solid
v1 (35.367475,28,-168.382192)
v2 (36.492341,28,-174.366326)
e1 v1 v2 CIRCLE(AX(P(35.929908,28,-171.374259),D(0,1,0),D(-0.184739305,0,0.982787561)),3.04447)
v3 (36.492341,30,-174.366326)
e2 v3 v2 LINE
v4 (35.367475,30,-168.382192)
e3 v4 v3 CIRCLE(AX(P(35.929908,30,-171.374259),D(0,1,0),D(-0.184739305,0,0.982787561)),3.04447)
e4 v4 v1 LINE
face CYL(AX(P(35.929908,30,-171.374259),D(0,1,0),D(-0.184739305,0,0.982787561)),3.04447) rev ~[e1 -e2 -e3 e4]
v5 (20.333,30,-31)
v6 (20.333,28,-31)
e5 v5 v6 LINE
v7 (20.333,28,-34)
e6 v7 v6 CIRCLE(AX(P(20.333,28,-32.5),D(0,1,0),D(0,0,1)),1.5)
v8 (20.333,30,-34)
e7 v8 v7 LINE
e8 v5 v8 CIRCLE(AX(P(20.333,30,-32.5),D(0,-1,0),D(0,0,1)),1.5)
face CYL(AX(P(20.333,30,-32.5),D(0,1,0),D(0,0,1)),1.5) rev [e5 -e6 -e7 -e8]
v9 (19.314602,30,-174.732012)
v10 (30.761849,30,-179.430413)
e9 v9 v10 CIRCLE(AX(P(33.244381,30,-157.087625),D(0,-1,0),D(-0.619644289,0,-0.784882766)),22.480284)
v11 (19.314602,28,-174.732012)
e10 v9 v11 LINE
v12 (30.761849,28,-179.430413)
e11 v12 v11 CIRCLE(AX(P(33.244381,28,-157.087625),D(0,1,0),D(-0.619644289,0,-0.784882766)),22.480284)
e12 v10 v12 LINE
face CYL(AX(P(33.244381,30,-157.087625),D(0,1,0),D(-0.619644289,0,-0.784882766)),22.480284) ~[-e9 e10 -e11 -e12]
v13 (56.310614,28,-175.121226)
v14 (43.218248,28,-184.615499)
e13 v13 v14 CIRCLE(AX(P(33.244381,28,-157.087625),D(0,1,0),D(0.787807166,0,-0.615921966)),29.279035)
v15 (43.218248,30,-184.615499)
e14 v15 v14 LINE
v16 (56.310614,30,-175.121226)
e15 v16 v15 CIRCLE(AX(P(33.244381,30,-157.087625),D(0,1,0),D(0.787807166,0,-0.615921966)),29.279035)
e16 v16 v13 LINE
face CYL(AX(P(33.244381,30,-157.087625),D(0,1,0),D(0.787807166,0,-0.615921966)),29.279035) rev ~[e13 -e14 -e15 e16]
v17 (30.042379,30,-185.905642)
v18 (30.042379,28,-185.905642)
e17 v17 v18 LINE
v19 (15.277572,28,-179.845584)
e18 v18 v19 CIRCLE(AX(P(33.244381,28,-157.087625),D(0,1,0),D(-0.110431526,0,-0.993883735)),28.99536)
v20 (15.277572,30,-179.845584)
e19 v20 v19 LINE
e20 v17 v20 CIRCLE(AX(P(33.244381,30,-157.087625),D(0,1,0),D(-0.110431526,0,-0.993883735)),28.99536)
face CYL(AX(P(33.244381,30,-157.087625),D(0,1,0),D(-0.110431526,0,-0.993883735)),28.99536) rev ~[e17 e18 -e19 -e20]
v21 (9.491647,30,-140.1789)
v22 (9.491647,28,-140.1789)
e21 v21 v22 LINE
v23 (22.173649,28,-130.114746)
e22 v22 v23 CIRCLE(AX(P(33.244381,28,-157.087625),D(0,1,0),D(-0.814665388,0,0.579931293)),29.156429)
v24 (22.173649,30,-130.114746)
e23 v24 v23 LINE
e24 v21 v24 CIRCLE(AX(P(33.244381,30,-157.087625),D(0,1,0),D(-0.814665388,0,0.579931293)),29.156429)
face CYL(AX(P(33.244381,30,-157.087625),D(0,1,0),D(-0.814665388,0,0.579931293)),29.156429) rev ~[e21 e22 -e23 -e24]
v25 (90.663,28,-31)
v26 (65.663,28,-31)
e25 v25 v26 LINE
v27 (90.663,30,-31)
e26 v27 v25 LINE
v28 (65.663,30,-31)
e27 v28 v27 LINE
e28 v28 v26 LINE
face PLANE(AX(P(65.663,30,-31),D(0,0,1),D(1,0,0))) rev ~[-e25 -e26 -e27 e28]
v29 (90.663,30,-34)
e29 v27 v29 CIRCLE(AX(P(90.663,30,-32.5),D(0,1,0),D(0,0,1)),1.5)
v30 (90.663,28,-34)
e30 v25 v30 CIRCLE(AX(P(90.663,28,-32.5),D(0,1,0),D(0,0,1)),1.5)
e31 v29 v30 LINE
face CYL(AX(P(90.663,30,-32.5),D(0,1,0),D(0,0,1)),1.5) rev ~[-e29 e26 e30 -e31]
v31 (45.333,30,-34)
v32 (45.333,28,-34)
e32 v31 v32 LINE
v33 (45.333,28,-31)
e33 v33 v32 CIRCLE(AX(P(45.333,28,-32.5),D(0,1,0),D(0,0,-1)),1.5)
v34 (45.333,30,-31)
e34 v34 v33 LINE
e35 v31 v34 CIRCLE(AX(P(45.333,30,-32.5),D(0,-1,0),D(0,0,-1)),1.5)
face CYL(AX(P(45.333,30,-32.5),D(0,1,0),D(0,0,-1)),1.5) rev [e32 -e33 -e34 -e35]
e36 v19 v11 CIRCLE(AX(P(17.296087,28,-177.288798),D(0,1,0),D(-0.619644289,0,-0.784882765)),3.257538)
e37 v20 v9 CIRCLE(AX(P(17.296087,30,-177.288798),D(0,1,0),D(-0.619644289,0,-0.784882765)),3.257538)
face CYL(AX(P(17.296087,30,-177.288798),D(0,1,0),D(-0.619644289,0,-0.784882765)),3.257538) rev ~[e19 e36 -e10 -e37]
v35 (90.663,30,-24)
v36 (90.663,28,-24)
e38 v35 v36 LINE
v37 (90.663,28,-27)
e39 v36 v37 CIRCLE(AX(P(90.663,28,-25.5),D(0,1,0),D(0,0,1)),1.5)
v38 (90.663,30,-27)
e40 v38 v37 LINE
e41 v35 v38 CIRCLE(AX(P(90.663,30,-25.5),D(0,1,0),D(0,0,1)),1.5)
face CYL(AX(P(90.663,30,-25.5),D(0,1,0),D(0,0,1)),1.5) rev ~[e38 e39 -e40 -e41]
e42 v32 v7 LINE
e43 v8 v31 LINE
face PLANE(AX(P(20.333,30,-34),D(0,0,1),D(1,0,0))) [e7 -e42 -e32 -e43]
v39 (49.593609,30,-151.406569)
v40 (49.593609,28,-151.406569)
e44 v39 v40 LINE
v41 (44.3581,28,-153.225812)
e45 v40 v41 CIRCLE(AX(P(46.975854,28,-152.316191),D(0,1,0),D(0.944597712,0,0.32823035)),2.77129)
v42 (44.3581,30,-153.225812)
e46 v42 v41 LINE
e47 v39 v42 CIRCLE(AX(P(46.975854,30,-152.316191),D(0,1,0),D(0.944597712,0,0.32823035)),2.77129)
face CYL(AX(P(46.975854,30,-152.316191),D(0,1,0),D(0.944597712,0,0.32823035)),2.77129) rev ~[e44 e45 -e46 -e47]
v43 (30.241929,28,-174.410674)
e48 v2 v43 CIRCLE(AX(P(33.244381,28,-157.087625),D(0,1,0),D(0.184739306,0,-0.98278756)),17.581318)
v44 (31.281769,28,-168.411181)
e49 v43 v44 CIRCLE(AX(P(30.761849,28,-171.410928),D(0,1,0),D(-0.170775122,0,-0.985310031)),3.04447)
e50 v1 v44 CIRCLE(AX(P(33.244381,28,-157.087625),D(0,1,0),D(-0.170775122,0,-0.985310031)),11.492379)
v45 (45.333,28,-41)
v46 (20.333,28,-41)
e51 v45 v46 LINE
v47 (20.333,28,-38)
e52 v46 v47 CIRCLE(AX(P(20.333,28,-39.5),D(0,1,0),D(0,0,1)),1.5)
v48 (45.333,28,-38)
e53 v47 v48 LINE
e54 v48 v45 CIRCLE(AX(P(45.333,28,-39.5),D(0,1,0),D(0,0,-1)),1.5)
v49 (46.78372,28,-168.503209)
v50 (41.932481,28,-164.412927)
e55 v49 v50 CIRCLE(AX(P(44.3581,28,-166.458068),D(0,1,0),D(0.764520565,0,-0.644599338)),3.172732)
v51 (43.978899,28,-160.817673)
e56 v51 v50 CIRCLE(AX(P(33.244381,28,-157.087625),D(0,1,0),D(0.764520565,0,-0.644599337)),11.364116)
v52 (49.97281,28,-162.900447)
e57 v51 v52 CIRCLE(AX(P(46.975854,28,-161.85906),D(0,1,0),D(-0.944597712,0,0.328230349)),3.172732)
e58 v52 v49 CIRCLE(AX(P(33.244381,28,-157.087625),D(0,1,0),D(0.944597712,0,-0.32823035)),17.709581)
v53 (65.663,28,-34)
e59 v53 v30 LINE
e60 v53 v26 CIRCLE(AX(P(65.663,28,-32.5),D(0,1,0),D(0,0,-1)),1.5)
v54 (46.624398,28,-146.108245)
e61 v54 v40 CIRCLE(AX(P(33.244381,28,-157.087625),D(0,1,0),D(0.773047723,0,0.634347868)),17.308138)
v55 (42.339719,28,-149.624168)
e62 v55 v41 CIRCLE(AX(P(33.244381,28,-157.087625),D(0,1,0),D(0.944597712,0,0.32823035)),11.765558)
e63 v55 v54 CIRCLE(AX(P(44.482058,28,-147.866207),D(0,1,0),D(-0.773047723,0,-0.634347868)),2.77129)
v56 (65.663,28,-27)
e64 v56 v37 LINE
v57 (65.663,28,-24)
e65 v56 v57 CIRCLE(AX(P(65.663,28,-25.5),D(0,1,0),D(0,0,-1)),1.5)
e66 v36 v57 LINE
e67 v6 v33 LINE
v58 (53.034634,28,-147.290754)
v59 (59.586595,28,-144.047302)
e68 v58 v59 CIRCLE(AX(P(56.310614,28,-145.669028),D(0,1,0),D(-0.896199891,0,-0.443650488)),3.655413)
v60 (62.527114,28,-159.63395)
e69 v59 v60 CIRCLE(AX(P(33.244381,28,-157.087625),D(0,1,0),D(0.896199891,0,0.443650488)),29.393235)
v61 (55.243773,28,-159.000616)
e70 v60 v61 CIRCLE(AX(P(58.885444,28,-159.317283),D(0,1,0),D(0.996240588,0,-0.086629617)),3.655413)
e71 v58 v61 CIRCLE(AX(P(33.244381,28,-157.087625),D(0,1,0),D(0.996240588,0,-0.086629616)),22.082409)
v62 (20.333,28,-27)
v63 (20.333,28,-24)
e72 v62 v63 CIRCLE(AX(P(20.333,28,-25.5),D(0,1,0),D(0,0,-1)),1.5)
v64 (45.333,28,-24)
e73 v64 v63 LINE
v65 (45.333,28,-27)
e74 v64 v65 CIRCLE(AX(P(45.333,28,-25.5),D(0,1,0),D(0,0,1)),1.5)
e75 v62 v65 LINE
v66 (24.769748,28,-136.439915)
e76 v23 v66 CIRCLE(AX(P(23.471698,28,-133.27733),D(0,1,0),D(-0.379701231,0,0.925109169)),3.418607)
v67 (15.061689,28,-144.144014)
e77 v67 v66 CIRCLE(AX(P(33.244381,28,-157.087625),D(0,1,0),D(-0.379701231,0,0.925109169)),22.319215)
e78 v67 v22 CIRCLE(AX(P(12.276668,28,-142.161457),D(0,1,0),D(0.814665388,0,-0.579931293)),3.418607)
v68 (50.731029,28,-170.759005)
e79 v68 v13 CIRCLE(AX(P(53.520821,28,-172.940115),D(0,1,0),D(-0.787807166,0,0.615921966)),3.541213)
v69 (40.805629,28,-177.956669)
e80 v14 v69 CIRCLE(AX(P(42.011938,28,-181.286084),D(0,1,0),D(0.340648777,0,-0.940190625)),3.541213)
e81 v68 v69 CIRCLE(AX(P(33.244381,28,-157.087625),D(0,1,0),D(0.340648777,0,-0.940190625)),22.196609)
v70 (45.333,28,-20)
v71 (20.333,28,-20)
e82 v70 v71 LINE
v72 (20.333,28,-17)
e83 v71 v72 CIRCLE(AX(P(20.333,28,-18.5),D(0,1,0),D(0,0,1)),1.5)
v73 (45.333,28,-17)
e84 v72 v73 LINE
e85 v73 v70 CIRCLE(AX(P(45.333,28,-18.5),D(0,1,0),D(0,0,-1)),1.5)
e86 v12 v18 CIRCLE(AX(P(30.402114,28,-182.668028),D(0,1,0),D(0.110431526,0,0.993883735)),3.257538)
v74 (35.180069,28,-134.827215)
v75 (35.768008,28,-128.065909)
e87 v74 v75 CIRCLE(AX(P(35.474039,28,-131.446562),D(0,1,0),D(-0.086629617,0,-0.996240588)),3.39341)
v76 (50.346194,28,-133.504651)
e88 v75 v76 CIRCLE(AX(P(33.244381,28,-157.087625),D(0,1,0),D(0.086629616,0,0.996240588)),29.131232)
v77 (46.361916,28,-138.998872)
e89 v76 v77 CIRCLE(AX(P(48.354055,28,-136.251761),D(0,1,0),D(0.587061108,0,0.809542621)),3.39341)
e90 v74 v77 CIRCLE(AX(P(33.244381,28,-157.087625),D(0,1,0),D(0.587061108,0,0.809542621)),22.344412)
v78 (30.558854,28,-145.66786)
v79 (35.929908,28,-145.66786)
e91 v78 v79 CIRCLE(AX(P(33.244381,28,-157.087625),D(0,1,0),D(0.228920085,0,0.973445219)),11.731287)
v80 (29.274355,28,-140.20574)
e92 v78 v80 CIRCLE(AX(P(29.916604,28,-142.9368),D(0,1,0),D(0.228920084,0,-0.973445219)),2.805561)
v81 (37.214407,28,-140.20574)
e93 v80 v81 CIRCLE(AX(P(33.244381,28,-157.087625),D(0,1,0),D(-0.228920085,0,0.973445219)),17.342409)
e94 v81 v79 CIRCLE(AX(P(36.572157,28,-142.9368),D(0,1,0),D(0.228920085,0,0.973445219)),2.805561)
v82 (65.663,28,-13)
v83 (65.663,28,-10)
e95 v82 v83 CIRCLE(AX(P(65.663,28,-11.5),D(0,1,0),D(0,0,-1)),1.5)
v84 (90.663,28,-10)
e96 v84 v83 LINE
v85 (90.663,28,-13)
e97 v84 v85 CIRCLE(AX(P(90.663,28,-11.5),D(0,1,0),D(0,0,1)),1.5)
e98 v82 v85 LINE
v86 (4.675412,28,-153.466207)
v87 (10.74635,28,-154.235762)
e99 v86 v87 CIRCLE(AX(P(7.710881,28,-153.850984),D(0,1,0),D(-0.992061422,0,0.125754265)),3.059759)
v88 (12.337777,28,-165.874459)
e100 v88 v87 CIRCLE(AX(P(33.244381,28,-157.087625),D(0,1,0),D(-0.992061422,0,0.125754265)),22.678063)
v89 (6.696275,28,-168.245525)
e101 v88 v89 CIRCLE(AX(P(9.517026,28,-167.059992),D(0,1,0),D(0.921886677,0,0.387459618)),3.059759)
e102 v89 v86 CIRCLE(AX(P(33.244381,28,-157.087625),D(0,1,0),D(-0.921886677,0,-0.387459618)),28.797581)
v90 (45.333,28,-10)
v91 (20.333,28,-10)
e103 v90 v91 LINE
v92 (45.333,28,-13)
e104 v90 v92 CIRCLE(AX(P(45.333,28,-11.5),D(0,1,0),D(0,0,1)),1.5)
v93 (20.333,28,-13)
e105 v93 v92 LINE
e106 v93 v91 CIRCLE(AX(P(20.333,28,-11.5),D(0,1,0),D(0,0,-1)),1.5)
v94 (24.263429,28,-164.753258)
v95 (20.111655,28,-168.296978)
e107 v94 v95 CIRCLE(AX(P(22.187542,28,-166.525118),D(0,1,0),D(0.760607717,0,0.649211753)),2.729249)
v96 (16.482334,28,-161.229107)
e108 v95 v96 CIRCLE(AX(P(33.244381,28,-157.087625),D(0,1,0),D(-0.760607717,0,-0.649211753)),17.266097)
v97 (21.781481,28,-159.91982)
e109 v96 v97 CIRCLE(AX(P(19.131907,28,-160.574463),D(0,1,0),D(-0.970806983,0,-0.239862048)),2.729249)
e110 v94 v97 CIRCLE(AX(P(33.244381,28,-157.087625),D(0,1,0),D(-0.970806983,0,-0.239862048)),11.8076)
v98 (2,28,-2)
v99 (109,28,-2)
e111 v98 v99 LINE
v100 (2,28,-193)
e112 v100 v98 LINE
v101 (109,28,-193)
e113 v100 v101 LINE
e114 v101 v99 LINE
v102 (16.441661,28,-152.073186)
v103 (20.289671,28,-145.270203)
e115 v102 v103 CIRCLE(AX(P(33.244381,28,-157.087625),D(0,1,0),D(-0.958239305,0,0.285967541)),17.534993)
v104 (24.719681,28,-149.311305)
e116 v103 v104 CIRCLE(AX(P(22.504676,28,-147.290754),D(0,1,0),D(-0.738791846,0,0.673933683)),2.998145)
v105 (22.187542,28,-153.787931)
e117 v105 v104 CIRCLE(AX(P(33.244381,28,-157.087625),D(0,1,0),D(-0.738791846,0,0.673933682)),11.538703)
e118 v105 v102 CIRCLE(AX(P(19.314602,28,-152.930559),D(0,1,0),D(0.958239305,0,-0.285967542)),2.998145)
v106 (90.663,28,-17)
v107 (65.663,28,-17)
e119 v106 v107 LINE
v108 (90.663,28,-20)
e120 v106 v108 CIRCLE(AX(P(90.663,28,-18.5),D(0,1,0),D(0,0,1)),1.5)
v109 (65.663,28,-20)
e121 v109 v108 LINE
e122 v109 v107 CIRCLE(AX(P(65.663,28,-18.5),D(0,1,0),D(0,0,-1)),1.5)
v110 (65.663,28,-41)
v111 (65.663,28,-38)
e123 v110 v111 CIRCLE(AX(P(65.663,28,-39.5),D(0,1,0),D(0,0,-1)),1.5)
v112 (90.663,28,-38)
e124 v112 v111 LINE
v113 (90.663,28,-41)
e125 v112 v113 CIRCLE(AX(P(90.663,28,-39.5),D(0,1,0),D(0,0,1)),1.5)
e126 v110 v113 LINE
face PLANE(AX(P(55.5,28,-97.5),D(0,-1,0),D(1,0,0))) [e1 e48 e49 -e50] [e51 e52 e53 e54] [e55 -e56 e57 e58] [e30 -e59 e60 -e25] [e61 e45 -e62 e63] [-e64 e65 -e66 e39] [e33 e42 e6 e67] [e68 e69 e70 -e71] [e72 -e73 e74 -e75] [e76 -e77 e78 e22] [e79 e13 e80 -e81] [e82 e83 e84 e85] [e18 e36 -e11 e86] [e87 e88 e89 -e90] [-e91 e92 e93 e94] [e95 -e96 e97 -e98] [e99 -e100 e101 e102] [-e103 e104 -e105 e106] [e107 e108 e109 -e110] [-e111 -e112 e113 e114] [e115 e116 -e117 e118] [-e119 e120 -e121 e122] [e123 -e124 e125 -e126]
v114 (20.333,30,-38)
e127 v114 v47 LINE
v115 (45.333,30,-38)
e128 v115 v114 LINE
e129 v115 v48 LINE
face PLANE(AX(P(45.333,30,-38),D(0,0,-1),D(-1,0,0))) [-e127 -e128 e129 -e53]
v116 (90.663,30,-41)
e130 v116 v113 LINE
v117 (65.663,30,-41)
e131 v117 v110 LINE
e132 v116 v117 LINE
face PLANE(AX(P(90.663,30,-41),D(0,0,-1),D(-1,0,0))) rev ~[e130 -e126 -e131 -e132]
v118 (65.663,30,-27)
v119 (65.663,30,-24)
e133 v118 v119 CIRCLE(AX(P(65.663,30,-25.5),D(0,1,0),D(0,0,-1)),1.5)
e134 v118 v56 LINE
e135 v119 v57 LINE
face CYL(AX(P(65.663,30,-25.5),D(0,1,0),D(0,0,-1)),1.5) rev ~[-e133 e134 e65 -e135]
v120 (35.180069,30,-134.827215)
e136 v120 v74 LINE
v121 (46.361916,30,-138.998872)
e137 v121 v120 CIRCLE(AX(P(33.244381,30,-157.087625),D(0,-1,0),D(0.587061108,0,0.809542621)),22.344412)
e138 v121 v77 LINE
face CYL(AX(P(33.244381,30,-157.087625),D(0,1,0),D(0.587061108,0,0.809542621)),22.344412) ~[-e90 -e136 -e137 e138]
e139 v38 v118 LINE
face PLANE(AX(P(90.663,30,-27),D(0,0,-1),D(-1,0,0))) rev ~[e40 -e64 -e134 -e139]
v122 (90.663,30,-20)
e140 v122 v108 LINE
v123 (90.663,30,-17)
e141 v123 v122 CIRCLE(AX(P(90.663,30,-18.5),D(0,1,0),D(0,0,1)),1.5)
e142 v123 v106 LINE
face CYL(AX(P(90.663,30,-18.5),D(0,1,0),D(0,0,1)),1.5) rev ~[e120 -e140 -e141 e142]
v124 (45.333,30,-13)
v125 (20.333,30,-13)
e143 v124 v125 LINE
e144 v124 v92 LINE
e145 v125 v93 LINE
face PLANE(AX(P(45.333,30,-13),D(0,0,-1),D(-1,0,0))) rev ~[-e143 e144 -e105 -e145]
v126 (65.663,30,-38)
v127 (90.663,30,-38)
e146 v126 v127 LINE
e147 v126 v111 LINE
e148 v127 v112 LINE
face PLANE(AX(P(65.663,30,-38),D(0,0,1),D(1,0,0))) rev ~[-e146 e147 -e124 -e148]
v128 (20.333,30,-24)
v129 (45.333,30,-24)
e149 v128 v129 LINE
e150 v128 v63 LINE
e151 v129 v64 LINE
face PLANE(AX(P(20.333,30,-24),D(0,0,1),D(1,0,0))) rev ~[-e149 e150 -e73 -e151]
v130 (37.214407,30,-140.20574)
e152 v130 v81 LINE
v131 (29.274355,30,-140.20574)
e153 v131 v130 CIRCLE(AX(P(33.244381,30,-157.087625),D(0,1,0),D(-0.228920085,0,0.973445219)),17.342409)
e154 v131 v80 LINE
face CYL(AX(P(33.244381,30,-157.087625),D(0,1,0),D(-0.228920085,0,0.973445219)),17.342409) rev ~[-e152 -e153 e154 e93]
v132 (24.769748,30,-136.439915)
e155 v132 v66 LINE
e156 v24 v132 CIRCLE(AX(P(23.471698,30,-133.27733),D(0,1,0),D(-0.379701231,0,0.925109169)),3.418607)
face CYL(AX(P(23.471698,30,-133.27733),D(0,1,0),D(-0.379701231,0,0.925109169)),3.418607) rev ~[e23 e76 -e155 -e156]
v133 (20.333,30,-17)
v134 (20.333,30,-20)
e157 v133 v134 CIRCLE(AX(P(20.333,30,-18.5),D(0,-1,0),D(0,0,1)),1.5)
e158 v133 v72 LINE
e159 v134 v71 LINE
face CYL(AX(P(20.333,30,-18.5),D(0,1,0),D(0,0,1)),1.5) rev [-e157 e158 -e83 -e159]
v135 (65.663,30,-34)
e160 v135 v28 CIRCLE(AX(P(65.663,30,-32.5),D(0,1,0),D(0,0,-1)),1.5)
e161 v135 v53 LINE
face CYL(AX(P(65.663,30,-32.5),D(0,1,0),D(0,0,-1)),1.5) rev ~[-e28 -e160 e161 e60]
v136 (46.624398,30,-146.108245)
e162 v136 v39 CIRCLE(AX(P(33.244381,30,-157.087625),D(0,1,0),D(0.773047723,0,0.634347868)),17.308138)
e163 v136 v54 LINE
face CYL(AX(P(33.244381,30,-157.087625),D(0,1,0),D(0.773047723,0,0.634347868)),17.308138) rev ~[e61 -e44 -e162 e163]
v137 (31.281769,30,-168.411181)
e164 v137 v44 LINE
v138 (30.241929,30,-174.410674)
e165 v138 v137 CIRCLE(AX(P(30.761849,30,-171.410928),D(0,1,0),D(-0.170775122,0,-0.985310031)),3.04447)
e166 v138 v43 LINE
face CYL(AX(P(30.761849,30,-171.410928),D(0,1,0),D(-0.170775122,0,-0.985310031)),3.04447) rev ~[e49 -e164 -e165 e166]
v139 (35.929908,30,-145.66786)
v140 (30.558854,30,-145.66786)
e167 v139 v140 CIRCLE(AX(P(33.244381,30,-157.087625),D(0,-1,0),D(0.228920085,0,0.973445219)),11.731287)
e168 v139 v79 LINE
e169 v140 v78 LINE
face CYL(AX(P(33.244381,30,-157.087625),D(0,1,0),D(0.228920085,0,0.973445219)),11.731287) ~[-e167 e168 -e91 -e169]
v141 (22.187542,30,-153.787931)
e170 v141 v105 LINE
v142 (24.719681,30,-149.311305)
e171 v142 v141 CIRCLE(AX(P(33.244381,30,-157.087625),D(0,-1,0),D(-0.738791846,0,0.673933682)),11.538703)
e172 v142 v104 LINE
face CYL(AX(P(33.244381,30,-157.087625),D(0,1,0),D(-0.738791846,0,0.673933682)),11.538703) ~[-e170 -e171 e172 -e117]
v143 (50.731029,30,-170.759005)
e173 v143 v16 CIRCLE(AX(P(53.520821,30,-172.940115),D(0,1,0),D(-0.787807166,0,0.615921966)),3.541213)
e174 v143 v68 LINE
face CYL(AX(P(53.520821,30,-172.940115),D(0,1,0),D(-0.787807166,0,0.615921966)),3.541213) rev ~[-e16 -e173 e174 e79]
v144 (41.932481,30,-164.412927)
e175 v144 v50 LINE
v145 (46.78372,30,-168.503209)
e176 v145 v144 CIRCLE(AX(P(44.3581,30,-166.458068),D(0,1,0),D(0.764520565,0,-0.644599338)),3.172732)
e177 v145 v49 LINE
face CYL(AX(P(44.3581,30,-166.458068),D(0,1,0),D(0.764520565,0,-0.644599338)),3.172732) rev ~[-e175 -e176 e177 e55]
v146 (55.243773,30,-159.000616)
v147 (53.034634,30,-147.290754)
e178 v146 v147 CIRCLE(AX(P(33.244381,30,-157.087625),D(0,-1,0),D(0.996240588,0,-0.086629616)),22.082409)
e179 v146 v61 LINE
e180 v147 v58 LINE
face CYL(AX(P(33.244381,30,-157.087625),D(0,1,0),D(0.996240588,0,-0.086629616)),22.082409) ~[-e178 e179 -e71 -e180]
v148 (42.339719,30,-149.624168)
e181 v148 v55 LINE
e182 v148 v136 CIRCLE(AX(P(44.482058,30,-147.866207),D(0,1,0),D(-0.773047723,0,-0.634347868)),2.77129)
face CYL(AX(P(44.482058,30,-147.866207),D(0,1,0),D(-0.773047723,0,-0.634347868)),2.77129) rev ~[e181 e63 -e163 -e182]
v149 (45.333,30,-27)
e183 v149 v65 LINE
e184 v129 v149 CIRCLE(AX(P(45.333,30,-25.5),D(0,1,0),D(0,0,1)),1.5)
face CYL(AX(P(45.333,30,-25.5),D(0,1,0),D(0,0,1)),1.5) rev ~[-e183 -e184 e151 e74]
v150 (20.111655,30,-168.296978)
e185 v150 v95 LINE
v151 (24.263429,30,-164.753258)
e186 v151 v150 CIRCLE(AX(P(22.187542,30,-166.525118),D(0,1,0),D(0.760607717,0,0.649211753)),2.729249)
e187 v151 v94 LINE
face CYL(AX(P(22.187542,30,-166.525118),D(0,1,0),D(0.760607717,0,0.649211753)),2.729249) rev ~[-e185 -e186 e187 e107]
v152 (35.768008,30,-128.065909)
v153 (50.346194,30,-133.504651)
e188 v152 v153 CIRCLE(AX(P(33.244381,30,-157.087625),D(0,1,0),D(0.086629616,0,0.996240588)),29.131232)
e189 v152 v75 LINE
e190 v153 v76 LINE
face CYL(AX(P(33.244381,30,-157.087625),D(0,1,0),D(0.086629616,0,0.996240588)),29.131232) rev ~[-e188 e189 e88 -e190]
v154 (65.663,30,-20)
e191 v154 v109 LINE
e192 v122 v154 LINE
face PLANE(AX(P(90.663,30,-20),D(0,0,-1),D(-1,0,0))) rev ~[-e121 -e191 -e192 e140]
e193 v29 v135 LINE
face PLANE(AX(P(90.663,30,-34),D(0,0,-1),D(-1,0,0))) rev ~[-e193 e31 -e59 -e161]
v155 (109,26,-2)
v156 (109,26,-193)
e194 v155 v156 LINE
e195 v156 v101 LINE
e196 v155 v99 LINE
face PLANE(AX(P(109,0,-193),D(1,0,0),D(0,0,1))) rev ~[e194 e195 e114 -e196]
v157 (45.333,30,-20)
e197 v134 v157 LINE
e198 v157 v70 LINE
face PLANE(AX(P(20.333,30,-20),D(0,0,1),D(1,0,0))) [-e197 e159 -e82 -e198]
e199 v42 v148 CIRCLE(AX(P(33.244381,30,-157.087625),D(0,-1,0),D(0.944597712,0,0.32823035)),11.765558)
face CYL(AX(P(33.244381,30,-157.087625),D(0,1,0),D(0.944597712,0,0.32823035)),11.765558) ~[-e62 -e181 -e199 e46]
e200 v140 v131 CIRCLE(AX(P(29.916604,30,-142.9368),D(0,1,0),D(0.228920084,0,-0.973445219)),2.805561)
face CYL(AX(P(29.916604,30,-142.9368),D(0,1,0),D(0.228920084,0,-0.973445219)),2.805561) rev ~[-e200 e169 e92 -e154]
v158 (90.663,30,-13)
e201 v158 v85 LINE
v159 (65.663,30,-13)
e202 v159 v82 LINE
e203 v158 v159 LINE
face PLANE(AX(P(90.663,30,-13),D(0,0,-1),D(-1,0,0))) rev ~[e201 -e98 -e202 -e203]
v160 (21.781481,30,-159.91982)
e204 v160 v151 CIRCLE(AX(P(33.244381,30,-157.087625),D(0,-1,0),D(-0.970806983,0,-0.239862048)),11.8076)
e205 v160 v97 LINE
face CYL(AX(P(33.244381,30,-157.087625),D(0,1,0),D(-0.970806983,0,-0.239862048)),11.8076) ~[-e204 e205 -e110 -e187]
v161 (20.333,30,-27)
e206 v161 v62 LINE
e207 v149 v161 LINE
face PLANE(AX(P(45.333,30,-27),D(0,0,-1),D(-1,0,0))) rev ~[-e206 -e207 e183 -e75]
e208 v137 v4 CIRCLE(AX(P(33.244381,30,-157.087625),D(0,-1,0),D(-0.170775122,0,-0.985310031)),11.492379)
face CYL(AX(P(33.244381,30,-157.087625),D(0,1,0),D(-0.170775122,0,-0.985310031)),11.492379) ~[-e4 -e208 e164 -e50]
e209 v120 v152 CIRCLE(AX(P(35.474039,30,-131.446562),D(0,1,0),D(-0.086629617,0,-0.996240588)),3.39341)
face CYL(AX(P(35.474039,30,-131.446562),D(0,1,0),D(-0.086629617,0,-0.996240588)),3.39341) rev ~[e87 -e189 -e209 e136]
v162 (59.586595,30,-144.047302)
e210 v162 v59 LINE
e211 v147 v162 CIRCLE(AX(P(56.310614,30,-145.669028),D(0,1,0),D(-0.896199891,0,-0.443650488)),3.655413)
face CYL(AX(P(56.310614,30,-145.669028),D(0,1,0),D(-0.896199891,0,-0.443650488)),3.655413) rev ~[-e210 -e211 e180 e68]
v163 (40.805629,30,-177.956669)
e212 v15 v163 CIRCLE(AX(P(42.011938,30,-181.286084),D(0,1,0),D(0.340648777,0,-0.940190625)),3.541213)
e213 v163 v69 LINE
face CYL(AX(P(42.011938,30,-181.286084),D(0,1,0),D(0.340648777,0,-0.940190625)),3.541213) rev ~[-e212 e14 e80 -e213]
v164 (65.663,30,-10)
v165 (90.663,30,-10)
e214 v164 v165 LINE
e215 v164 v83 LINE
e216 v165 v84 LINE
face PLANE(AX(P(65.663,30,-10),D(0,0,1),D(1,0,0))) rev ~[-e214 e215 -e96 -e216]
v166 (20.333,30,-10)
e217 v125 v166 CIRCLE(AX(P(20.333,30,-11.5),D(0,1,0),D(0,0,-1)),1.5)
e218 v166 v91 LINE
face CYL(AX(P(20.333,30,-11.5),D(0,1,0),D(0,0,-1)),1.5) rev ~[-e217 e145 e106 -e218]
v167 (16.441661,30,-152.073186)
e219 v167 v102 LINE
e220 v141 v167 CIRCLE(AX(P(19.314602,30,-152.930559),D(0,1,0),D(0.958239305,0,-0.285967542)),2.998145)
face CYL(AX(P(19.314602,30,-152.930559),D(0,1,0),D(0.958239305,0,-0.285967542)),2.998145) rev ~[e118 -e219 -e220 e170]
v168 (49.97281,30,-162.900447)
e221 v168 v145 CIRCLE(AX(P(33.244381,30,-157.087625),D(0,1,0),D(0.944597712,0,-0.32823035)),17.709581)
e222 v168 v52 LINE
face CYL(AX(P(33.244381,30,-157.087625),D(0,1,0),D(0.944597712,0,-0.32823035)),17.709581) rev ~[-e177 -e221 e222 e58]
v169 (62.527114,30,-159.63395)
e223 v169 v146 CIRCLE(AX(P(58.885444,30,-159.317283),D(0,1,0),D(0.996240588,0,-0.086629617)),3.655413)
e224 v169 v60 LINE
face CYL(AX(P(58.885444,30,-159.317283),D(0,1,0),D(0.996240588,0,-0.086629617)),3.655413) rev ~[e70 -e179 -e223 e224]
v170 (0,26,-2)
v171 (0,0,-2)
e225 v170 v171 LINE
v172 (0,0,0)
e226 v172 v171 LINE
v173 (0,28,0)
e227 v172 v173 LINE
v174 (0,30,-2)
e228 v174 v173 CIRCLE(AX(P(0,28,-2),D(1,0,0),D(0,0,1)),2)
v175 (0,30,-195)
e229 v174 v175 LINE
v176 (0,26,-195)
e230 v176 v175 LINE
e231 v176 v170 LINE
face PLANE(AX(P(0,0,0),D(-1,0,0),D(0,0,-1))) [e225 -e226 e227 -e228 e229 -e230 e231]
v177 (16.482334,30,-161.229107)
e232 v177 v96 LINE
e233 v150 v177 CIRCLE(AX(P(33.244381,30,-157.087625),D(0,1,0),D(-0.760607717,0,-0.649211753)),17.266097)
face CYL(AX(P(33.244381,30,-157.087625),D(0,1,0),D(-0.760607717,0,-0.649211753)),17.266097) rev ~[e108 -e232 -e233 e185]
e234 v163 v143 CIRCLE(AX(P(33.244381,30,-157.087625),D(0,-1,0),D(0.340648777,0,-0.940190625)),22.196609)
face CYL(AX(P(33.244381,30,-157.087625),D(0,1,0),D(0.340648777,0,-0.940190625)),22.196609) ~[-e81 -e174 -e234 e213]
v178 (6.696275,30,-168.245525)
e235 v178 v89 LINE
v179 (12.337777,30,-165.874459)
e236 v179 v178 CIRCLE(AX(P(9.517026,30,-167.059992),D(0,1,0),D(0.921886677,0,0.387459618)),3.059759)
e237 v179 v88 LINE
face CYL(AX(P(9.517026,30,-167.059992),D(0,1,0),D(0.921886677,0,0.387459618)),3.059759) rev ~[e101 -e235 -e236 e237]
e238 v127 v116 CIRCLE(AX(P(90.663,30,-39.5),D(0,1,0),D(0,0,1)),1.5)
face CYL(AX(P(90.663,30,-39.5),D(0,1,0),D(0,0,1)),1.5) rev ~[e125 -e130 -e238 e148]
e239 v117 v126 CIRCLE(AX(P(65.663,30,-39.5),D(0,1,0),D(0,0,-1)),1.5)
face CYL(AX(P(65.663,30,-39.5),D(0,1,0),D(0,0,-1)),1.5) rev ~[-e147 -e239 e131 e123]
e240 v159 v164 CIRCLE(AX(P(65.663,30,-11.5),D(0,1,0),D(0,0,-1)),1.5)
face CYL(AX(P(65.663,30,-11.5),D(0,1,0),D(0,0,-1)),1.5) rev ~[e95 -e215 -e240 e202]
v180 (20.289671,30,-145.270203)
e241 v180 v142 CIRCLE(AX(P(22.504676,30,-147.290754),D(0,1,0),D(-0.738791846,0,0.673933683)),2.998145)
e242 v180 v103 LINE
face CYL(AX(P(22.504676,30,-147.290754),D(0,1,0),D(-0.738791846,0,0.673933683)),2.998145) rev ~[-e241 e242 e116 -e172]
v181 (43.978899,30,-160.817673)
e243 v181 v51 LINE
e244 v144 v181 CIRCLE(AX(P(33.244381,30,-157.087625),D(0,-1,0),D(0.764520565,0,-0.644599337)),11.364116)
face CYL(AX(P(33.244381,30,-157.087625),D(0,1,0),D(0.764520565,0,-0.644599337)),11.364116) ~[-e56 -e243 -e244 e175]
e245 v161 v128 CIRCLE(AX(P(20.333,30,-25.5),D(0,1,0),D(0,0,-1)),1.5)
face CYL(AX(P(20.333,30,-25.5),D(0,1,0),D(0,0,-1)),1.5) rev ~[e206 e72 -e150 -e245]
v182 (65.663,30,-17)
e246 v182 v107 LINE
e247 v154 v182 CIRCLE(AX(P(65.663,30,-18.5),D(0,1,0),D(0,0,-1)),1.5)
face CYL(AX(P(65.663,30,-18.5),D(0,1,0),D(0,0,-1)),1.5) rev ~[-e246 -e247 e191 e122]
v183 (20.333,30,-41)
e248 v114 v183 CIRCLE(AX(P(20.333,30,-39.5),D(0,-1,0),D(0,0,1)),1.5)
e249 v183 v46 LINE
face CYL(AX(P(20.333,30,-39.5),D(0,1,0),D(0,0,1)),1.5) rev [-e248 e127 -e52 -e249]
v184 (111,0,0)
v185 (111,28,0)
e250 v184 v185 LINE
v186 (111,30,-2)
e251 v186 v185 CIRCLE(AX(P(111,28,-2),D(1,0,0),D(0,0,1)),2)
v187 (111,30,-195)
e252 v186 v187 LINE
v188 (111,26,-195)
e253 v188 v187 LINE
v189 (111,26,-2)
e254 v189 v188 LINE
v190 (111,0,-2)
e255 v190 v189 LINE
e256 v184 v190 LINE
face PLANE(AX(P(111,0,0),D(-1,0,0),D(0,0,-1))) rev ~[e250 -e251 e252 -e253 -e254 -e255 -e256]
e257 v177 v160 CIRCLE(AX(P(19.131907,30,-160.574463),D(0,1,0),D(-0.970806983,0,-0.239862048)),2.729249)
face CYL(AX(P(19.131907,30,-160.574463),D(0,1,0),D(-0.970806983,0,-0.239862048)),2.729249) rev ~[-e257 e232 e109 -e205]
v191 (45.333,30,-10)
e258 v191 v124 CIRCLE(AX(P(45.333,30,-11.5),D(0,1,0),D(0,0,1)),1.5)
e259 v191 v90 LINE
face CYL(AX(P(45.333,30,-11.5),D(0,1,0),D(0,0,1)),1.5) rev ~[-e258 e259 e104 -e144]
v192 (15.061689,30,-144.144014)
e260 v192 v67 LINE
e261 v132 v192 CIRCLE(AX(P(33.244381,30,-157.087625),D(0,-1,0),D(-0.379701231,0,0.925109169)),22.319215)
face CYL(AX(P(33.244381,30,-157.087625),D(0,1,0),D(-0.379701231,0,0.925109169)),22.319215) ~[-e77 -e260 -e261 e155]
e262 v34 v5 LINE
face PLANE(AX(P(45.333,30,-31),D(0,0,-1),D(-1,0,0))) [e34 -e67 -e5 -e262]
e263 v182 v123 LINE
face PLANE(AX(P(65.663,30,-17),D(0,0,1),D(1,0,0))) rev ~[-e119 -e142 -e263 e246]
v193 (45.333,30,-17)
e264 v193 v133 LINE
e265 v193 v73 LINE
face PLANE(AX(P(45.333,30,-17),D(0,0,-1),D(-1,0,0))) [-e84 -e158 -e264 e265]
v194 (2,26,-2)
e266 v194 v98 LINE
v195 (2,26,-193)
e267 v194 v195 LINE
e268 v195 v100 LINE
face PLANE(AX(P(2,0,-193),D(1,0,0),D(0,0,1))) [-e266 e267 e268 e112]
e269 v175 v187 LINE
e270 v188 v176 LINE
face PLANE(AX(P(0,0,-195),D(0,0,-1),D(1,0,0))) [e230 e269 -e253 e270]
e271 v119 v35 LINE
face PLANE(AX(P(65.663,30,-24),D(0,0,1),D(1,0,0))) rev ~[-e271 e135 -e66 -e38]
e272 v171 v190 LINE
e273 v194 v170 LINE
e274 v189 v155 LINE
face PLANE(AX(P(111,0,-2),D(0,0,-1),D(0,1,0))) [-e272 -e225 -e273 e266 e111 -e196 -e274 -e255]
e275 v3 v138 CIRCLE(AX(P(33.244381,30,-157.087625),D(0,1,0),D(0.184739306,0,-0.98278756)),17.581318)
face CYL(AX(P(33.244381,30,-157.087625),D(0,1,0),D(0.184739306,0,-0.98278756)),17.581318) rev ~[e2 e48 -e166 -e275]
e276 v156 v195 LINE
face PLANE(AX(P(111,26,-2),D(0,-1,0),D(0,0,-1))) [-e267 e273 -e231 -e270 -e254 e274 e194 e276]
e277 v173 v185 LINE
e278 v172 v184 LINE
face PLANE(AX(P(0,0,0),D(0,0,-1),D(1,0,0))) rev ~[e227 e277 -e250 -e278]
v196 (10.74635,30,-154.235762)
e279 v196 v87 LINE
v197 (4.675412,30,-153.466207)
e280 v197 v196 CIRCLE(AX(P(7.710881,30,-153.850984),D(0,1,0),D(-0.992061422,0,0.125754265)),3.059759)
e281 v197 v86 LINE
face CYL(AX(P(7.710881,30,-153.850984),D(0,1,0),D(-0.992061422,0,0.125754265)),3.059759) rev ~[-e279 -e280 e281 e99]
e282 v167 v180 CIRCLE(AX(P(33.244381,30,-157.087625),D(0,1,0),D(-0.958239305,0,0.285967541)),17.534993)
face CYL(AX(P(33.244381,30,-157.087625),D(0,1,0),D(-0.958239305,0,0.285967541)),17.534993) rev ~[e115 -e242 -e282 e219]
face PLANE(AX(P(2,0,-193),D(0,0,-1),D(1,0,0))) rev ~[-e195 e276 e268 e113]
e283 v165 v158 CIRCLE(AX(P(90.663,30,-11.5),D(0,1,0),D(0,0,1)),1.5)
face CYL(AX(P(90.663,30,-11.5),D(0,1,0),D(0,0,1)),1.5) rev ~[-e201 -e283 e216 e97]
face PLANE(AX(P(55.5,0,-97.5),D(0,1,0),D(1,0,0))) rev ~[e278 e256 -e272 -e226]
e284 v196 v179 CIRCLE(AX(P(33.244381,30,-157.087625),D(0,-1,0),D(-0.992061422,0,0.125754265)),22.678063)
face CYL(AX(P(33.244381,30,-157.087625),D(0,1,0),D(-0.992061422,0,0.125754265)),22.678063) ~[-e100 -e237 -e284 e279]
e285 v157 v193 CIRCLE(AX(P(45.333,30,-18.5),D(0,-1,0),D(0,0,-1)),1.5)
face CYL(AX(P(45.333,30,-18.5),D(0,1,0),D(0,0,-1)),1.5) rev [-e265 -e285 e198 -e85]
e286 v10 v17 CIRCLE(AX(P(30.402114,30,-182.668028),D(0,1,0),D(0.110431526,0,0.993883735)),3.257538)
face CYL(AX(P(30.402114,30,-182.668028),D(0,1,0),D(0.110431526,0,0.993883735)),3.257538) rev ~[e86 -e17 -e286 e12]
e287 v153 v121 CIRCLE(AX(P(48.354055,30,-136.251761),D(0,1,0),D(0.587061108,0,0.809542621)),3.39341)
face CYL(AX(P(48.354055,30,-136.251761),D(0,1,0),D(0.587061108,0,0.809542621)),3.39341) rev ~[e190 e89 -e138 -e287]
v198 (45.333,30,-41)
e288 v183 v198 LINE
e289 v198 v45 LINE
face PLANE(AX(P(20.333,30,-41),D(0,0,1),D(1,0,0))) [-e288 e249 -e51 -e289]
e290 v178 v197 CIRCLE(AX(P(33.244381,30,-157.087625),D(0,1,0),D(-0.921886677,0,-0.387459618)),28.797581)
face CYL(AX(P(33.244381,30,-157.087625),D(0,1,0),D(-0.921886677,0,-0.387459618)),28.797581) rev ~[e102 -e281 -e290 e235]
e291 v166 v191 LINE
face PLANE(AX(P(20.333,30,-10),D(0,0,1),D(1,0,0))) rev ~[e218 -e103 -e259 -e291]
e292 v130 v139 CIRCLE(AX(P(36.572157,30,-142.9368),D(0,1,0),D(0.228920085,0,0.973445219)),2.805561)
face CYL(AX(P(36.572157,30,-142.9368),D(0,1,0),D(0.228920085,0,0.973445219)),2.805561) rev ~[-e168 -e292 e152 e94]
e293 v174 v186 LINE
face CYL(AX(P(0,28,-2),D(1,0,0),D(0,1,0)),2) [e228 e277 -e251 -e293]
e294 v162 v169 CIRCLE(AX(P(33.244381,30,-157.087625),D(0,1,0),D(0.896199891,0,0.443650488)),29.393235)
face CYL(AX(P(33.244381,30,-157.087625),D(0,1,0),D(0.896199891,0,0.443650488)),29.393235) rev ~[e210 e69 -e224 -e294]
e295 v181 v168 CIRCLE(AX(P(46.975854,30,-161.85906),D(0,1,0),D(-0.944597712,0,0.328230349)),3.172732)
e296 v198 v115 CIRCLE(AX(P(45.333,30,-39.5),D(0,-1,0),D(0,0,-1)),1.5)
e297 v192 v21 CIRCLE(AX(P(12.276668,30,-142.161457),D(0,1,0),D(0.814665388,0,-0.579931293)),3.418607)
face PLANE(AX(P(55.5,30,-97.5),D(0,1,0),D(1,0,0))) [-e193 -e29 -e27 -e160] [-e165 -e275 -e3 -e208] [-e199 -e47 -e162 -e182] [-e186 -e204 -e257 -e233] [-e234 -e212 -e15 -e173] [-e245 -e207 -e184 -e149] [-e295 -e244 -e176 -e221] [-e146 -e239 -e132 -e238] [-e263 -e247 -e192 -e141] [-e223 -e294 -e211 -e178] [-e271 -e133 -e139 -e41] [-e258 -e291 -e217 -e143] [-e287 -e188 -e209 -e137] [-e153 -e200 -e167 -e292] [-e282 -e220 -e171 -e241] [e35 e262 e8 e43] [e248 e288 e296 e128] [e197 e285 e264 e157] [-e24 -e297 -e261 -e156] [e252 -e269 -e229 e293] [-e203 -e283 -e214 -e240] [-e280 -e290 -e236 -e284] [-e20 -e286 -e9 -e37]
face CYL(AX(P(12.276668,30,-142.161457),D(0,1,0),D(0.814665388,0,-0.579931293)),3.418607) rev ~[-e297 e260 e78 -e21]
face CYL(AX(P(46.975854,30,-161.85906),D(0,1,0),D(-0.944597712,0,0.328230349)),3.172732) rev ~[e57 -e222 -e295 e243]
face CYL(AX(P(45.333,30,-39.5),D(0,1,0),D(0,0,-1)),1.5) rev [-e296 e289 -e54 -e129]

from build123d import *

# Parameters (mm, degrees)
SKETCH1_W           = 111
SKETCH1_H           = 195
BOSS_EXTRUDE3_DEPTH = 30
SKETCH12_W          = 107
SKETCH12_H          = 191
CUT_EXTRUDE14_DEPTH = 28
SKETCH13_W          = 193
SKETCH13_H          = 26
CUT_EXTRUDE15_DEPTH = 112
CUT_EXTRUDE18_DEPTH = 28
CUT_EXTRUDE20_DEPTH = 28
FILLET1_R           = 2


with BuildPart() as part:
    # Sketch1 → Boss-Extrude3 (new body)
    with BuildSketch(Plane(origin=(0, 0, 0), x_dir=(1, 0, 0), z_dir=(0, 1, 0))):
        with Locations((55.5, 97.5)):
            Rectangle(SKETCH1_W, SKETCH1_H)
    extrude(amount=BOSS_EXTRUDE3_DEPTH)

    # Sketch12 → Cut-Extrude14 (cut)
    with BuildSketch(Plane.XZ):
        with Locations((55.5, -97.5)):
            Rectangle(SKETCH12_W, SKETCH12_H)
    extrude(amount=-CUT_EXTRUDE14_DEPTH, mode=Mode.SUBTRACT)

    # Sketch13 → Cut-Extrude15 (cut, through all)
    with BuildSketch(Plane(origin=(111, 0, 0), x_dir=(0, 0, -1), z_dir=(1, 0, 0))):
        with Locations((98.5, 13)):
            Rectangle(SKETCH13_W, SKETCH13_H)
    extrude(amount=-CUT_EXTRUDE15_DEPTH, mode=Mode.SUBTRACT)

    # Sketch14 → Cut-Extrude18 (cut)
    with BuildSketch(Plane(origin=(0, 30, 0), x_dir=(1, 0, 0), z_dir=(0, 1, 0))):
        with BuildLine():
            Line((20.333, 10), (45.333, 10))
            ThreePointArc((45.333, 10), (46.833, 11.5), (45.333, 13))
            Line((45.333, 13), (20.333, 13))
            ThreePointArc((20.333, 13), (18.833, 11.5), (20.333, 10))
        make_face()
        with BuildLine():
            Line((65.663, 10), (90.663, 10))
            ThreePointArc((90.663, 10), (92.163, 11.5), (90.663, 13))
            Line((90.663, 13), (65.663, 13))
            ThreePointArc((65.663, 13), (64.163, 11.5), (65.663, 10))
        make_face()
        with BuildLine():
            Line((45.333, 17), (20.333, 17))
            ThreePointArc((20.333, 17), (18.833, 18.5), (20.333, 20))
            Line((20.333, 20), (45.333, 20))
            ThreePointArc((45.333, 20), (46.833, 18.5), (45.333, 17))
        make_face()
        with BuildLine():
            Line((20.333, 24), (45.333, 24))
            ThreePointArc((45.333, 24), (46.833, 25.5), (45.333, 27))
            Line((45.333, 27), (20.333, 27))
            ThreePointArc((20.333, 27), (18.833, 25.5), (20.333, 24))
        make_face()
        with BuildLine():
            Line((45.333, 31), (20.333, 31))
            ThreePointArc((20.333, 31), (18.833, 32.5), (20.333, 34))
            Line((20.333, 34), (45.333, 34))
            ThreePointArc((45.333, 34), (46.833, 32.5), (45.333, 31))
        make_face()
        with BuildLine():
            Line((45.333, 38), (20.333, 38))
            ThreePointArc((20.333, 38), (18.833, 39.5), (20.333, 41))
            Line((20.333, 41), (45.333, 41))
            ThreePointArc((45.333, 41), (46.833, 39.5), (45.333, 38))
        make_face()
        with BuildLine():
            Line((65.663, 17), (90.663, 17))
            ThreePointArc((90.663, 17), (92.163, 18.5), (90.663, 20))
            Line((90.663, 20), (65.663, 20))
            ThreePointArc((65.663, 20), (64.163, 18.5), (65.663, 17))
        make_face()
        with BuildLine():
            Line((65.663, 24), (90.663, 24))
            ThreePointArc((90.663, 24), (92.163, 25.5), (90.663, 27))
            Line((90.663, 27), (65.663, 27))
            ThreePointArc((65.663, 27), (64.163, 25.5), (65.663, 24))
        make_face()
        with BuildLine():
            Line((65.663, 31), (90.663, 31))
            ThreePointArc((90.663, 31), (92.163, 32.5), (90.663, 34))
            Line((90.663, 34), (65.663, 34))
            ThreePointArc((65.663, 34), (64.163, 32.5), (65.663, 31))
        make_face()
        with BuildLine():
            Line((65.663, 38), (90.663, 38))
            ThreePointArc((90.663, 38), (92.163, 39.5), (90.663, 41))
            Line((90.663, 41), (65.663, 41))
            ThreePointArc((65.663, 41), (64.163, 39.5), (65.663, 38))
        make_face()
    extrude(amount=-CUT_EXTRUDE18_DEPTH, mode=Mode.SUBTRACT)

    # Sketch15 → Cut-Extrude20 (cut)
    with BuildSketch(Plane(origin=(0, 30, 0), x_dir=(1, 0, 0), z_dir=(0, 1, 0))):
        with BuildLine():
            ThreePointArc((6.696274737, 168.245524968), (4.712292683, 160.988985093), (4.67541183, 153.466206648))
            ThreePointArc((4.67541183, 153.466206648), (8.09565845, 150.815515518), (10.74634958, 154.235762137))
            ThreePointArc((10.74634958, 154.235762137), (10.775393211, 160.159941785), (12.337776869, 165.874458854))
            ThreePointArc((12.337776869, 165.874458854), (10.70255886, 169.880742977), (6.696274737, 168.245524968))
        make_face()
        with BuildLine():
            ThreePointArc((30.042379036, 185.905642269), (22.234806909, 183.911498962), (15.277571507, 179.845583861))
            ThreePointArc((15.277571507, 179.845583861), (14.739300825, 175.27028306), (19.314601626, 174.732012377))
            ThreePointArc((19.314601626, 174.732012377), (24.708589586, 177.884341691), (30.761848907, 179.430413423))
            ThreePointArc((30.761848907, 179.430413423), (33.639728395, 183.027762782), (30.042379036, 185.905642269))
        make_face()
        with BuildLine():
            ThreePointArc((9.491647445, 140.178899737), (15.120081319, 134.248905718), (22.173648967, 130.11474554))
            ThreePointArc((22.173648967, 130.11474554), (26.634282912, 131.979280924), (24.769747528, 136.439914869))
            ThreePointArc((24.769747528, 136.439914869), (19.370249085, 139.604610035), (15.061689013, 144.144014074))
            ThreePointArc((15.061689013, 144.144014074), (10.294111061, 144.94647769), (9.491647445, 140.178899737))
        make_face()
        with BuildLine():
            ThreePointArc((56.310614137, 175.121225777), (50.432963372, 180.790251606), (43.218248225, 184.615499013))
            ThreePointArc((43.218248225, 184.615499013), (38.682523617, 182.492393878), (40.805628753, 177.95666927))
            ThreePointArc((40.805628753, 177.95666927), (46.275147004, 175.056726572), (50.731028834, 170.75900454))
            ThreePointArc((50.731028834, 170.75900454), (55.701932104, 170.150322507), (56.310614137, 175.121225777))
        make_face()
        with BuildLine():
            ThreePointArc((59.586594576, 144.047302408), (62.128106042, 151.638527757), (62.527114252, 159.633949903))
            ThreePointArc((62.527114252, 159.633949903), (58.568776784, 162.958953376), (55.24377331, 159.000615908))
            ThreePointArc((55.24377331, 159.000615908), (54.944008323, 152.99385325), (53.034633698, 147.290753636))
            ThreePointArc((53.034633698, 147.290753636), (54.688888523, 142.393047582), (59.586594576, 144.047302408))
        make_face()
        with BuildLine():
            ThreePointArc((35.768008384, 128.065909487), (43.426937588, 129.793958929), (50.34619431, 133.504651297))
            ThreePointArc((50.34619431, 133.504651297), (51.101165333, 138.243900564), (46.361916066, 138.998871587))
            ThreePointArc((46.361916066, 138.998871587), (41.05466641, 136.152674144), (35.180068745, 134.827215331))
            ThreePointArc((35.180068745, 134.827215331), (32.093385643, 131.15259259), (35.768008384, 128.065909487))
        make_face()
        with BuildLine():
            ThreePointArc((16.441661235, 152.073186373), (17.981802443, 148.454567611), (20.289670934, 145.270202728))
            ThreePointArc((20.289670934, 145.270202728), (24.525226929, 145.075748549), (24.719681108, 149.311304544))
            ThreePointArc((24.719681108, 149.311304544), (23.201014452, 151.406739699), (22.187542017, 153.787930688))
            ThreePointArc((22.187542017, 153.787930688), (18.457229469, 155.803498921), (16.441661235, 152.073186373))
        make_face()
        with BuildLine():
            ThreePointArc((29.27435513, 140.205739876), (33.244380925, 139.745216), (37.21440672, 140.205739876))
            ThreePointArc((37.21440672, 140.205739876), (39.303217461, 143.579049176), (35.929908161, 145.667859918))
            ThreePointArc((35.929908161, 145.667859918), (33.244380925, 145.356338161), (30.558853689, 145.667859918))
            ThreePointArc((30.558853689, 145.667859918), (27.185544389, 143.579049176), (29.27435513, 140.205739876))
        make_face()
        with BuildLine():
            ThreePointArc((46.62439771, 146.108244738), (48.343223739, 148.626148349), (49.593608613, 151.406569032))
            ThreePointArc((49.593608613, 151.406569032), (47.885475932, 154.933944656), (44.358100308, 153.225811975))
            ThreePointArc((44.358100308, 153.225811975), (43.508125809, 151.335764577), (42.339718927, 149.624168488))
            ThreePointArc((42.339718927, 149.624168488), (42.724096443, 145.723867222), (46.62439771, 146.108244738))
        make_face()
        with BuildLine():
            ThreePointArc((49.972810261, 162.900447104), (48.635358132, 165.848165567), (46.783719502, 168.503209204))
            ThreePointArc((46.783719502, 168.503209204), (42.312959082, 168.883687171), (41.932481115, 164.412926751))
            ThreePointArc((41.932481115, 164.412926751), (43.120664854, 162.709203559), (43.978898661, 160.817672951))
            ThreePointArc((43.978898661, 160.817672951), (48.017241537, 158.862104227), (49.972810261, 162.900447104))
        make_face()
        with BuildLine():
            ThreePointArc((20.111654536, 168.296978183), (17.884918862, 164.974641199), (16.482333682, 161.229106577))
            ThreePointArc((16.482333682, 161.229106577), (18.47726406, 157.924889924), (21.781480713, 159.919820302))
            ThreePointArc((21.781480713, 159.919820302), (22.740653165, 162.48124308), (24.263429498, 164.753257755))
            ThreePointArc((24.263429498, 164.753257755), (23.959402231, 168.601005449), (20.111654536, 168.296978183))
        make_face()
        with BuildLine():
            ThreePointArc((36.492341368, 174.366325724), (33.369121981, 174.668500564), (30.241929234, 174.410674085))
            ThreePointArc((30.241929234, 174.410674085), (27.762102428, 170.891007932), (31.281768581, 168.411181126))
            ThreePointArc((31.281768581, 168.411181126), (33.3259204, 168.579714539), (35.367474954, 168.382191937))
            ThreePointArc((35.367474954, 168.382191937), (38.921975054, 170.811825623), (36.492341368, 174.366325724))
        make_face()
    extrude(amount=-CUT_EXTRUDE20_DEPTH, mode=Mode.SUBTRACT)

    # Fillet1
    fillet1_edges = [part.edges().sort_by_distance(p)[0] for p in [
        (55.5, 30, 0),
    ]]
    fillet(fillet1_edges, radius=FILLET1_R)


solid = part.part
